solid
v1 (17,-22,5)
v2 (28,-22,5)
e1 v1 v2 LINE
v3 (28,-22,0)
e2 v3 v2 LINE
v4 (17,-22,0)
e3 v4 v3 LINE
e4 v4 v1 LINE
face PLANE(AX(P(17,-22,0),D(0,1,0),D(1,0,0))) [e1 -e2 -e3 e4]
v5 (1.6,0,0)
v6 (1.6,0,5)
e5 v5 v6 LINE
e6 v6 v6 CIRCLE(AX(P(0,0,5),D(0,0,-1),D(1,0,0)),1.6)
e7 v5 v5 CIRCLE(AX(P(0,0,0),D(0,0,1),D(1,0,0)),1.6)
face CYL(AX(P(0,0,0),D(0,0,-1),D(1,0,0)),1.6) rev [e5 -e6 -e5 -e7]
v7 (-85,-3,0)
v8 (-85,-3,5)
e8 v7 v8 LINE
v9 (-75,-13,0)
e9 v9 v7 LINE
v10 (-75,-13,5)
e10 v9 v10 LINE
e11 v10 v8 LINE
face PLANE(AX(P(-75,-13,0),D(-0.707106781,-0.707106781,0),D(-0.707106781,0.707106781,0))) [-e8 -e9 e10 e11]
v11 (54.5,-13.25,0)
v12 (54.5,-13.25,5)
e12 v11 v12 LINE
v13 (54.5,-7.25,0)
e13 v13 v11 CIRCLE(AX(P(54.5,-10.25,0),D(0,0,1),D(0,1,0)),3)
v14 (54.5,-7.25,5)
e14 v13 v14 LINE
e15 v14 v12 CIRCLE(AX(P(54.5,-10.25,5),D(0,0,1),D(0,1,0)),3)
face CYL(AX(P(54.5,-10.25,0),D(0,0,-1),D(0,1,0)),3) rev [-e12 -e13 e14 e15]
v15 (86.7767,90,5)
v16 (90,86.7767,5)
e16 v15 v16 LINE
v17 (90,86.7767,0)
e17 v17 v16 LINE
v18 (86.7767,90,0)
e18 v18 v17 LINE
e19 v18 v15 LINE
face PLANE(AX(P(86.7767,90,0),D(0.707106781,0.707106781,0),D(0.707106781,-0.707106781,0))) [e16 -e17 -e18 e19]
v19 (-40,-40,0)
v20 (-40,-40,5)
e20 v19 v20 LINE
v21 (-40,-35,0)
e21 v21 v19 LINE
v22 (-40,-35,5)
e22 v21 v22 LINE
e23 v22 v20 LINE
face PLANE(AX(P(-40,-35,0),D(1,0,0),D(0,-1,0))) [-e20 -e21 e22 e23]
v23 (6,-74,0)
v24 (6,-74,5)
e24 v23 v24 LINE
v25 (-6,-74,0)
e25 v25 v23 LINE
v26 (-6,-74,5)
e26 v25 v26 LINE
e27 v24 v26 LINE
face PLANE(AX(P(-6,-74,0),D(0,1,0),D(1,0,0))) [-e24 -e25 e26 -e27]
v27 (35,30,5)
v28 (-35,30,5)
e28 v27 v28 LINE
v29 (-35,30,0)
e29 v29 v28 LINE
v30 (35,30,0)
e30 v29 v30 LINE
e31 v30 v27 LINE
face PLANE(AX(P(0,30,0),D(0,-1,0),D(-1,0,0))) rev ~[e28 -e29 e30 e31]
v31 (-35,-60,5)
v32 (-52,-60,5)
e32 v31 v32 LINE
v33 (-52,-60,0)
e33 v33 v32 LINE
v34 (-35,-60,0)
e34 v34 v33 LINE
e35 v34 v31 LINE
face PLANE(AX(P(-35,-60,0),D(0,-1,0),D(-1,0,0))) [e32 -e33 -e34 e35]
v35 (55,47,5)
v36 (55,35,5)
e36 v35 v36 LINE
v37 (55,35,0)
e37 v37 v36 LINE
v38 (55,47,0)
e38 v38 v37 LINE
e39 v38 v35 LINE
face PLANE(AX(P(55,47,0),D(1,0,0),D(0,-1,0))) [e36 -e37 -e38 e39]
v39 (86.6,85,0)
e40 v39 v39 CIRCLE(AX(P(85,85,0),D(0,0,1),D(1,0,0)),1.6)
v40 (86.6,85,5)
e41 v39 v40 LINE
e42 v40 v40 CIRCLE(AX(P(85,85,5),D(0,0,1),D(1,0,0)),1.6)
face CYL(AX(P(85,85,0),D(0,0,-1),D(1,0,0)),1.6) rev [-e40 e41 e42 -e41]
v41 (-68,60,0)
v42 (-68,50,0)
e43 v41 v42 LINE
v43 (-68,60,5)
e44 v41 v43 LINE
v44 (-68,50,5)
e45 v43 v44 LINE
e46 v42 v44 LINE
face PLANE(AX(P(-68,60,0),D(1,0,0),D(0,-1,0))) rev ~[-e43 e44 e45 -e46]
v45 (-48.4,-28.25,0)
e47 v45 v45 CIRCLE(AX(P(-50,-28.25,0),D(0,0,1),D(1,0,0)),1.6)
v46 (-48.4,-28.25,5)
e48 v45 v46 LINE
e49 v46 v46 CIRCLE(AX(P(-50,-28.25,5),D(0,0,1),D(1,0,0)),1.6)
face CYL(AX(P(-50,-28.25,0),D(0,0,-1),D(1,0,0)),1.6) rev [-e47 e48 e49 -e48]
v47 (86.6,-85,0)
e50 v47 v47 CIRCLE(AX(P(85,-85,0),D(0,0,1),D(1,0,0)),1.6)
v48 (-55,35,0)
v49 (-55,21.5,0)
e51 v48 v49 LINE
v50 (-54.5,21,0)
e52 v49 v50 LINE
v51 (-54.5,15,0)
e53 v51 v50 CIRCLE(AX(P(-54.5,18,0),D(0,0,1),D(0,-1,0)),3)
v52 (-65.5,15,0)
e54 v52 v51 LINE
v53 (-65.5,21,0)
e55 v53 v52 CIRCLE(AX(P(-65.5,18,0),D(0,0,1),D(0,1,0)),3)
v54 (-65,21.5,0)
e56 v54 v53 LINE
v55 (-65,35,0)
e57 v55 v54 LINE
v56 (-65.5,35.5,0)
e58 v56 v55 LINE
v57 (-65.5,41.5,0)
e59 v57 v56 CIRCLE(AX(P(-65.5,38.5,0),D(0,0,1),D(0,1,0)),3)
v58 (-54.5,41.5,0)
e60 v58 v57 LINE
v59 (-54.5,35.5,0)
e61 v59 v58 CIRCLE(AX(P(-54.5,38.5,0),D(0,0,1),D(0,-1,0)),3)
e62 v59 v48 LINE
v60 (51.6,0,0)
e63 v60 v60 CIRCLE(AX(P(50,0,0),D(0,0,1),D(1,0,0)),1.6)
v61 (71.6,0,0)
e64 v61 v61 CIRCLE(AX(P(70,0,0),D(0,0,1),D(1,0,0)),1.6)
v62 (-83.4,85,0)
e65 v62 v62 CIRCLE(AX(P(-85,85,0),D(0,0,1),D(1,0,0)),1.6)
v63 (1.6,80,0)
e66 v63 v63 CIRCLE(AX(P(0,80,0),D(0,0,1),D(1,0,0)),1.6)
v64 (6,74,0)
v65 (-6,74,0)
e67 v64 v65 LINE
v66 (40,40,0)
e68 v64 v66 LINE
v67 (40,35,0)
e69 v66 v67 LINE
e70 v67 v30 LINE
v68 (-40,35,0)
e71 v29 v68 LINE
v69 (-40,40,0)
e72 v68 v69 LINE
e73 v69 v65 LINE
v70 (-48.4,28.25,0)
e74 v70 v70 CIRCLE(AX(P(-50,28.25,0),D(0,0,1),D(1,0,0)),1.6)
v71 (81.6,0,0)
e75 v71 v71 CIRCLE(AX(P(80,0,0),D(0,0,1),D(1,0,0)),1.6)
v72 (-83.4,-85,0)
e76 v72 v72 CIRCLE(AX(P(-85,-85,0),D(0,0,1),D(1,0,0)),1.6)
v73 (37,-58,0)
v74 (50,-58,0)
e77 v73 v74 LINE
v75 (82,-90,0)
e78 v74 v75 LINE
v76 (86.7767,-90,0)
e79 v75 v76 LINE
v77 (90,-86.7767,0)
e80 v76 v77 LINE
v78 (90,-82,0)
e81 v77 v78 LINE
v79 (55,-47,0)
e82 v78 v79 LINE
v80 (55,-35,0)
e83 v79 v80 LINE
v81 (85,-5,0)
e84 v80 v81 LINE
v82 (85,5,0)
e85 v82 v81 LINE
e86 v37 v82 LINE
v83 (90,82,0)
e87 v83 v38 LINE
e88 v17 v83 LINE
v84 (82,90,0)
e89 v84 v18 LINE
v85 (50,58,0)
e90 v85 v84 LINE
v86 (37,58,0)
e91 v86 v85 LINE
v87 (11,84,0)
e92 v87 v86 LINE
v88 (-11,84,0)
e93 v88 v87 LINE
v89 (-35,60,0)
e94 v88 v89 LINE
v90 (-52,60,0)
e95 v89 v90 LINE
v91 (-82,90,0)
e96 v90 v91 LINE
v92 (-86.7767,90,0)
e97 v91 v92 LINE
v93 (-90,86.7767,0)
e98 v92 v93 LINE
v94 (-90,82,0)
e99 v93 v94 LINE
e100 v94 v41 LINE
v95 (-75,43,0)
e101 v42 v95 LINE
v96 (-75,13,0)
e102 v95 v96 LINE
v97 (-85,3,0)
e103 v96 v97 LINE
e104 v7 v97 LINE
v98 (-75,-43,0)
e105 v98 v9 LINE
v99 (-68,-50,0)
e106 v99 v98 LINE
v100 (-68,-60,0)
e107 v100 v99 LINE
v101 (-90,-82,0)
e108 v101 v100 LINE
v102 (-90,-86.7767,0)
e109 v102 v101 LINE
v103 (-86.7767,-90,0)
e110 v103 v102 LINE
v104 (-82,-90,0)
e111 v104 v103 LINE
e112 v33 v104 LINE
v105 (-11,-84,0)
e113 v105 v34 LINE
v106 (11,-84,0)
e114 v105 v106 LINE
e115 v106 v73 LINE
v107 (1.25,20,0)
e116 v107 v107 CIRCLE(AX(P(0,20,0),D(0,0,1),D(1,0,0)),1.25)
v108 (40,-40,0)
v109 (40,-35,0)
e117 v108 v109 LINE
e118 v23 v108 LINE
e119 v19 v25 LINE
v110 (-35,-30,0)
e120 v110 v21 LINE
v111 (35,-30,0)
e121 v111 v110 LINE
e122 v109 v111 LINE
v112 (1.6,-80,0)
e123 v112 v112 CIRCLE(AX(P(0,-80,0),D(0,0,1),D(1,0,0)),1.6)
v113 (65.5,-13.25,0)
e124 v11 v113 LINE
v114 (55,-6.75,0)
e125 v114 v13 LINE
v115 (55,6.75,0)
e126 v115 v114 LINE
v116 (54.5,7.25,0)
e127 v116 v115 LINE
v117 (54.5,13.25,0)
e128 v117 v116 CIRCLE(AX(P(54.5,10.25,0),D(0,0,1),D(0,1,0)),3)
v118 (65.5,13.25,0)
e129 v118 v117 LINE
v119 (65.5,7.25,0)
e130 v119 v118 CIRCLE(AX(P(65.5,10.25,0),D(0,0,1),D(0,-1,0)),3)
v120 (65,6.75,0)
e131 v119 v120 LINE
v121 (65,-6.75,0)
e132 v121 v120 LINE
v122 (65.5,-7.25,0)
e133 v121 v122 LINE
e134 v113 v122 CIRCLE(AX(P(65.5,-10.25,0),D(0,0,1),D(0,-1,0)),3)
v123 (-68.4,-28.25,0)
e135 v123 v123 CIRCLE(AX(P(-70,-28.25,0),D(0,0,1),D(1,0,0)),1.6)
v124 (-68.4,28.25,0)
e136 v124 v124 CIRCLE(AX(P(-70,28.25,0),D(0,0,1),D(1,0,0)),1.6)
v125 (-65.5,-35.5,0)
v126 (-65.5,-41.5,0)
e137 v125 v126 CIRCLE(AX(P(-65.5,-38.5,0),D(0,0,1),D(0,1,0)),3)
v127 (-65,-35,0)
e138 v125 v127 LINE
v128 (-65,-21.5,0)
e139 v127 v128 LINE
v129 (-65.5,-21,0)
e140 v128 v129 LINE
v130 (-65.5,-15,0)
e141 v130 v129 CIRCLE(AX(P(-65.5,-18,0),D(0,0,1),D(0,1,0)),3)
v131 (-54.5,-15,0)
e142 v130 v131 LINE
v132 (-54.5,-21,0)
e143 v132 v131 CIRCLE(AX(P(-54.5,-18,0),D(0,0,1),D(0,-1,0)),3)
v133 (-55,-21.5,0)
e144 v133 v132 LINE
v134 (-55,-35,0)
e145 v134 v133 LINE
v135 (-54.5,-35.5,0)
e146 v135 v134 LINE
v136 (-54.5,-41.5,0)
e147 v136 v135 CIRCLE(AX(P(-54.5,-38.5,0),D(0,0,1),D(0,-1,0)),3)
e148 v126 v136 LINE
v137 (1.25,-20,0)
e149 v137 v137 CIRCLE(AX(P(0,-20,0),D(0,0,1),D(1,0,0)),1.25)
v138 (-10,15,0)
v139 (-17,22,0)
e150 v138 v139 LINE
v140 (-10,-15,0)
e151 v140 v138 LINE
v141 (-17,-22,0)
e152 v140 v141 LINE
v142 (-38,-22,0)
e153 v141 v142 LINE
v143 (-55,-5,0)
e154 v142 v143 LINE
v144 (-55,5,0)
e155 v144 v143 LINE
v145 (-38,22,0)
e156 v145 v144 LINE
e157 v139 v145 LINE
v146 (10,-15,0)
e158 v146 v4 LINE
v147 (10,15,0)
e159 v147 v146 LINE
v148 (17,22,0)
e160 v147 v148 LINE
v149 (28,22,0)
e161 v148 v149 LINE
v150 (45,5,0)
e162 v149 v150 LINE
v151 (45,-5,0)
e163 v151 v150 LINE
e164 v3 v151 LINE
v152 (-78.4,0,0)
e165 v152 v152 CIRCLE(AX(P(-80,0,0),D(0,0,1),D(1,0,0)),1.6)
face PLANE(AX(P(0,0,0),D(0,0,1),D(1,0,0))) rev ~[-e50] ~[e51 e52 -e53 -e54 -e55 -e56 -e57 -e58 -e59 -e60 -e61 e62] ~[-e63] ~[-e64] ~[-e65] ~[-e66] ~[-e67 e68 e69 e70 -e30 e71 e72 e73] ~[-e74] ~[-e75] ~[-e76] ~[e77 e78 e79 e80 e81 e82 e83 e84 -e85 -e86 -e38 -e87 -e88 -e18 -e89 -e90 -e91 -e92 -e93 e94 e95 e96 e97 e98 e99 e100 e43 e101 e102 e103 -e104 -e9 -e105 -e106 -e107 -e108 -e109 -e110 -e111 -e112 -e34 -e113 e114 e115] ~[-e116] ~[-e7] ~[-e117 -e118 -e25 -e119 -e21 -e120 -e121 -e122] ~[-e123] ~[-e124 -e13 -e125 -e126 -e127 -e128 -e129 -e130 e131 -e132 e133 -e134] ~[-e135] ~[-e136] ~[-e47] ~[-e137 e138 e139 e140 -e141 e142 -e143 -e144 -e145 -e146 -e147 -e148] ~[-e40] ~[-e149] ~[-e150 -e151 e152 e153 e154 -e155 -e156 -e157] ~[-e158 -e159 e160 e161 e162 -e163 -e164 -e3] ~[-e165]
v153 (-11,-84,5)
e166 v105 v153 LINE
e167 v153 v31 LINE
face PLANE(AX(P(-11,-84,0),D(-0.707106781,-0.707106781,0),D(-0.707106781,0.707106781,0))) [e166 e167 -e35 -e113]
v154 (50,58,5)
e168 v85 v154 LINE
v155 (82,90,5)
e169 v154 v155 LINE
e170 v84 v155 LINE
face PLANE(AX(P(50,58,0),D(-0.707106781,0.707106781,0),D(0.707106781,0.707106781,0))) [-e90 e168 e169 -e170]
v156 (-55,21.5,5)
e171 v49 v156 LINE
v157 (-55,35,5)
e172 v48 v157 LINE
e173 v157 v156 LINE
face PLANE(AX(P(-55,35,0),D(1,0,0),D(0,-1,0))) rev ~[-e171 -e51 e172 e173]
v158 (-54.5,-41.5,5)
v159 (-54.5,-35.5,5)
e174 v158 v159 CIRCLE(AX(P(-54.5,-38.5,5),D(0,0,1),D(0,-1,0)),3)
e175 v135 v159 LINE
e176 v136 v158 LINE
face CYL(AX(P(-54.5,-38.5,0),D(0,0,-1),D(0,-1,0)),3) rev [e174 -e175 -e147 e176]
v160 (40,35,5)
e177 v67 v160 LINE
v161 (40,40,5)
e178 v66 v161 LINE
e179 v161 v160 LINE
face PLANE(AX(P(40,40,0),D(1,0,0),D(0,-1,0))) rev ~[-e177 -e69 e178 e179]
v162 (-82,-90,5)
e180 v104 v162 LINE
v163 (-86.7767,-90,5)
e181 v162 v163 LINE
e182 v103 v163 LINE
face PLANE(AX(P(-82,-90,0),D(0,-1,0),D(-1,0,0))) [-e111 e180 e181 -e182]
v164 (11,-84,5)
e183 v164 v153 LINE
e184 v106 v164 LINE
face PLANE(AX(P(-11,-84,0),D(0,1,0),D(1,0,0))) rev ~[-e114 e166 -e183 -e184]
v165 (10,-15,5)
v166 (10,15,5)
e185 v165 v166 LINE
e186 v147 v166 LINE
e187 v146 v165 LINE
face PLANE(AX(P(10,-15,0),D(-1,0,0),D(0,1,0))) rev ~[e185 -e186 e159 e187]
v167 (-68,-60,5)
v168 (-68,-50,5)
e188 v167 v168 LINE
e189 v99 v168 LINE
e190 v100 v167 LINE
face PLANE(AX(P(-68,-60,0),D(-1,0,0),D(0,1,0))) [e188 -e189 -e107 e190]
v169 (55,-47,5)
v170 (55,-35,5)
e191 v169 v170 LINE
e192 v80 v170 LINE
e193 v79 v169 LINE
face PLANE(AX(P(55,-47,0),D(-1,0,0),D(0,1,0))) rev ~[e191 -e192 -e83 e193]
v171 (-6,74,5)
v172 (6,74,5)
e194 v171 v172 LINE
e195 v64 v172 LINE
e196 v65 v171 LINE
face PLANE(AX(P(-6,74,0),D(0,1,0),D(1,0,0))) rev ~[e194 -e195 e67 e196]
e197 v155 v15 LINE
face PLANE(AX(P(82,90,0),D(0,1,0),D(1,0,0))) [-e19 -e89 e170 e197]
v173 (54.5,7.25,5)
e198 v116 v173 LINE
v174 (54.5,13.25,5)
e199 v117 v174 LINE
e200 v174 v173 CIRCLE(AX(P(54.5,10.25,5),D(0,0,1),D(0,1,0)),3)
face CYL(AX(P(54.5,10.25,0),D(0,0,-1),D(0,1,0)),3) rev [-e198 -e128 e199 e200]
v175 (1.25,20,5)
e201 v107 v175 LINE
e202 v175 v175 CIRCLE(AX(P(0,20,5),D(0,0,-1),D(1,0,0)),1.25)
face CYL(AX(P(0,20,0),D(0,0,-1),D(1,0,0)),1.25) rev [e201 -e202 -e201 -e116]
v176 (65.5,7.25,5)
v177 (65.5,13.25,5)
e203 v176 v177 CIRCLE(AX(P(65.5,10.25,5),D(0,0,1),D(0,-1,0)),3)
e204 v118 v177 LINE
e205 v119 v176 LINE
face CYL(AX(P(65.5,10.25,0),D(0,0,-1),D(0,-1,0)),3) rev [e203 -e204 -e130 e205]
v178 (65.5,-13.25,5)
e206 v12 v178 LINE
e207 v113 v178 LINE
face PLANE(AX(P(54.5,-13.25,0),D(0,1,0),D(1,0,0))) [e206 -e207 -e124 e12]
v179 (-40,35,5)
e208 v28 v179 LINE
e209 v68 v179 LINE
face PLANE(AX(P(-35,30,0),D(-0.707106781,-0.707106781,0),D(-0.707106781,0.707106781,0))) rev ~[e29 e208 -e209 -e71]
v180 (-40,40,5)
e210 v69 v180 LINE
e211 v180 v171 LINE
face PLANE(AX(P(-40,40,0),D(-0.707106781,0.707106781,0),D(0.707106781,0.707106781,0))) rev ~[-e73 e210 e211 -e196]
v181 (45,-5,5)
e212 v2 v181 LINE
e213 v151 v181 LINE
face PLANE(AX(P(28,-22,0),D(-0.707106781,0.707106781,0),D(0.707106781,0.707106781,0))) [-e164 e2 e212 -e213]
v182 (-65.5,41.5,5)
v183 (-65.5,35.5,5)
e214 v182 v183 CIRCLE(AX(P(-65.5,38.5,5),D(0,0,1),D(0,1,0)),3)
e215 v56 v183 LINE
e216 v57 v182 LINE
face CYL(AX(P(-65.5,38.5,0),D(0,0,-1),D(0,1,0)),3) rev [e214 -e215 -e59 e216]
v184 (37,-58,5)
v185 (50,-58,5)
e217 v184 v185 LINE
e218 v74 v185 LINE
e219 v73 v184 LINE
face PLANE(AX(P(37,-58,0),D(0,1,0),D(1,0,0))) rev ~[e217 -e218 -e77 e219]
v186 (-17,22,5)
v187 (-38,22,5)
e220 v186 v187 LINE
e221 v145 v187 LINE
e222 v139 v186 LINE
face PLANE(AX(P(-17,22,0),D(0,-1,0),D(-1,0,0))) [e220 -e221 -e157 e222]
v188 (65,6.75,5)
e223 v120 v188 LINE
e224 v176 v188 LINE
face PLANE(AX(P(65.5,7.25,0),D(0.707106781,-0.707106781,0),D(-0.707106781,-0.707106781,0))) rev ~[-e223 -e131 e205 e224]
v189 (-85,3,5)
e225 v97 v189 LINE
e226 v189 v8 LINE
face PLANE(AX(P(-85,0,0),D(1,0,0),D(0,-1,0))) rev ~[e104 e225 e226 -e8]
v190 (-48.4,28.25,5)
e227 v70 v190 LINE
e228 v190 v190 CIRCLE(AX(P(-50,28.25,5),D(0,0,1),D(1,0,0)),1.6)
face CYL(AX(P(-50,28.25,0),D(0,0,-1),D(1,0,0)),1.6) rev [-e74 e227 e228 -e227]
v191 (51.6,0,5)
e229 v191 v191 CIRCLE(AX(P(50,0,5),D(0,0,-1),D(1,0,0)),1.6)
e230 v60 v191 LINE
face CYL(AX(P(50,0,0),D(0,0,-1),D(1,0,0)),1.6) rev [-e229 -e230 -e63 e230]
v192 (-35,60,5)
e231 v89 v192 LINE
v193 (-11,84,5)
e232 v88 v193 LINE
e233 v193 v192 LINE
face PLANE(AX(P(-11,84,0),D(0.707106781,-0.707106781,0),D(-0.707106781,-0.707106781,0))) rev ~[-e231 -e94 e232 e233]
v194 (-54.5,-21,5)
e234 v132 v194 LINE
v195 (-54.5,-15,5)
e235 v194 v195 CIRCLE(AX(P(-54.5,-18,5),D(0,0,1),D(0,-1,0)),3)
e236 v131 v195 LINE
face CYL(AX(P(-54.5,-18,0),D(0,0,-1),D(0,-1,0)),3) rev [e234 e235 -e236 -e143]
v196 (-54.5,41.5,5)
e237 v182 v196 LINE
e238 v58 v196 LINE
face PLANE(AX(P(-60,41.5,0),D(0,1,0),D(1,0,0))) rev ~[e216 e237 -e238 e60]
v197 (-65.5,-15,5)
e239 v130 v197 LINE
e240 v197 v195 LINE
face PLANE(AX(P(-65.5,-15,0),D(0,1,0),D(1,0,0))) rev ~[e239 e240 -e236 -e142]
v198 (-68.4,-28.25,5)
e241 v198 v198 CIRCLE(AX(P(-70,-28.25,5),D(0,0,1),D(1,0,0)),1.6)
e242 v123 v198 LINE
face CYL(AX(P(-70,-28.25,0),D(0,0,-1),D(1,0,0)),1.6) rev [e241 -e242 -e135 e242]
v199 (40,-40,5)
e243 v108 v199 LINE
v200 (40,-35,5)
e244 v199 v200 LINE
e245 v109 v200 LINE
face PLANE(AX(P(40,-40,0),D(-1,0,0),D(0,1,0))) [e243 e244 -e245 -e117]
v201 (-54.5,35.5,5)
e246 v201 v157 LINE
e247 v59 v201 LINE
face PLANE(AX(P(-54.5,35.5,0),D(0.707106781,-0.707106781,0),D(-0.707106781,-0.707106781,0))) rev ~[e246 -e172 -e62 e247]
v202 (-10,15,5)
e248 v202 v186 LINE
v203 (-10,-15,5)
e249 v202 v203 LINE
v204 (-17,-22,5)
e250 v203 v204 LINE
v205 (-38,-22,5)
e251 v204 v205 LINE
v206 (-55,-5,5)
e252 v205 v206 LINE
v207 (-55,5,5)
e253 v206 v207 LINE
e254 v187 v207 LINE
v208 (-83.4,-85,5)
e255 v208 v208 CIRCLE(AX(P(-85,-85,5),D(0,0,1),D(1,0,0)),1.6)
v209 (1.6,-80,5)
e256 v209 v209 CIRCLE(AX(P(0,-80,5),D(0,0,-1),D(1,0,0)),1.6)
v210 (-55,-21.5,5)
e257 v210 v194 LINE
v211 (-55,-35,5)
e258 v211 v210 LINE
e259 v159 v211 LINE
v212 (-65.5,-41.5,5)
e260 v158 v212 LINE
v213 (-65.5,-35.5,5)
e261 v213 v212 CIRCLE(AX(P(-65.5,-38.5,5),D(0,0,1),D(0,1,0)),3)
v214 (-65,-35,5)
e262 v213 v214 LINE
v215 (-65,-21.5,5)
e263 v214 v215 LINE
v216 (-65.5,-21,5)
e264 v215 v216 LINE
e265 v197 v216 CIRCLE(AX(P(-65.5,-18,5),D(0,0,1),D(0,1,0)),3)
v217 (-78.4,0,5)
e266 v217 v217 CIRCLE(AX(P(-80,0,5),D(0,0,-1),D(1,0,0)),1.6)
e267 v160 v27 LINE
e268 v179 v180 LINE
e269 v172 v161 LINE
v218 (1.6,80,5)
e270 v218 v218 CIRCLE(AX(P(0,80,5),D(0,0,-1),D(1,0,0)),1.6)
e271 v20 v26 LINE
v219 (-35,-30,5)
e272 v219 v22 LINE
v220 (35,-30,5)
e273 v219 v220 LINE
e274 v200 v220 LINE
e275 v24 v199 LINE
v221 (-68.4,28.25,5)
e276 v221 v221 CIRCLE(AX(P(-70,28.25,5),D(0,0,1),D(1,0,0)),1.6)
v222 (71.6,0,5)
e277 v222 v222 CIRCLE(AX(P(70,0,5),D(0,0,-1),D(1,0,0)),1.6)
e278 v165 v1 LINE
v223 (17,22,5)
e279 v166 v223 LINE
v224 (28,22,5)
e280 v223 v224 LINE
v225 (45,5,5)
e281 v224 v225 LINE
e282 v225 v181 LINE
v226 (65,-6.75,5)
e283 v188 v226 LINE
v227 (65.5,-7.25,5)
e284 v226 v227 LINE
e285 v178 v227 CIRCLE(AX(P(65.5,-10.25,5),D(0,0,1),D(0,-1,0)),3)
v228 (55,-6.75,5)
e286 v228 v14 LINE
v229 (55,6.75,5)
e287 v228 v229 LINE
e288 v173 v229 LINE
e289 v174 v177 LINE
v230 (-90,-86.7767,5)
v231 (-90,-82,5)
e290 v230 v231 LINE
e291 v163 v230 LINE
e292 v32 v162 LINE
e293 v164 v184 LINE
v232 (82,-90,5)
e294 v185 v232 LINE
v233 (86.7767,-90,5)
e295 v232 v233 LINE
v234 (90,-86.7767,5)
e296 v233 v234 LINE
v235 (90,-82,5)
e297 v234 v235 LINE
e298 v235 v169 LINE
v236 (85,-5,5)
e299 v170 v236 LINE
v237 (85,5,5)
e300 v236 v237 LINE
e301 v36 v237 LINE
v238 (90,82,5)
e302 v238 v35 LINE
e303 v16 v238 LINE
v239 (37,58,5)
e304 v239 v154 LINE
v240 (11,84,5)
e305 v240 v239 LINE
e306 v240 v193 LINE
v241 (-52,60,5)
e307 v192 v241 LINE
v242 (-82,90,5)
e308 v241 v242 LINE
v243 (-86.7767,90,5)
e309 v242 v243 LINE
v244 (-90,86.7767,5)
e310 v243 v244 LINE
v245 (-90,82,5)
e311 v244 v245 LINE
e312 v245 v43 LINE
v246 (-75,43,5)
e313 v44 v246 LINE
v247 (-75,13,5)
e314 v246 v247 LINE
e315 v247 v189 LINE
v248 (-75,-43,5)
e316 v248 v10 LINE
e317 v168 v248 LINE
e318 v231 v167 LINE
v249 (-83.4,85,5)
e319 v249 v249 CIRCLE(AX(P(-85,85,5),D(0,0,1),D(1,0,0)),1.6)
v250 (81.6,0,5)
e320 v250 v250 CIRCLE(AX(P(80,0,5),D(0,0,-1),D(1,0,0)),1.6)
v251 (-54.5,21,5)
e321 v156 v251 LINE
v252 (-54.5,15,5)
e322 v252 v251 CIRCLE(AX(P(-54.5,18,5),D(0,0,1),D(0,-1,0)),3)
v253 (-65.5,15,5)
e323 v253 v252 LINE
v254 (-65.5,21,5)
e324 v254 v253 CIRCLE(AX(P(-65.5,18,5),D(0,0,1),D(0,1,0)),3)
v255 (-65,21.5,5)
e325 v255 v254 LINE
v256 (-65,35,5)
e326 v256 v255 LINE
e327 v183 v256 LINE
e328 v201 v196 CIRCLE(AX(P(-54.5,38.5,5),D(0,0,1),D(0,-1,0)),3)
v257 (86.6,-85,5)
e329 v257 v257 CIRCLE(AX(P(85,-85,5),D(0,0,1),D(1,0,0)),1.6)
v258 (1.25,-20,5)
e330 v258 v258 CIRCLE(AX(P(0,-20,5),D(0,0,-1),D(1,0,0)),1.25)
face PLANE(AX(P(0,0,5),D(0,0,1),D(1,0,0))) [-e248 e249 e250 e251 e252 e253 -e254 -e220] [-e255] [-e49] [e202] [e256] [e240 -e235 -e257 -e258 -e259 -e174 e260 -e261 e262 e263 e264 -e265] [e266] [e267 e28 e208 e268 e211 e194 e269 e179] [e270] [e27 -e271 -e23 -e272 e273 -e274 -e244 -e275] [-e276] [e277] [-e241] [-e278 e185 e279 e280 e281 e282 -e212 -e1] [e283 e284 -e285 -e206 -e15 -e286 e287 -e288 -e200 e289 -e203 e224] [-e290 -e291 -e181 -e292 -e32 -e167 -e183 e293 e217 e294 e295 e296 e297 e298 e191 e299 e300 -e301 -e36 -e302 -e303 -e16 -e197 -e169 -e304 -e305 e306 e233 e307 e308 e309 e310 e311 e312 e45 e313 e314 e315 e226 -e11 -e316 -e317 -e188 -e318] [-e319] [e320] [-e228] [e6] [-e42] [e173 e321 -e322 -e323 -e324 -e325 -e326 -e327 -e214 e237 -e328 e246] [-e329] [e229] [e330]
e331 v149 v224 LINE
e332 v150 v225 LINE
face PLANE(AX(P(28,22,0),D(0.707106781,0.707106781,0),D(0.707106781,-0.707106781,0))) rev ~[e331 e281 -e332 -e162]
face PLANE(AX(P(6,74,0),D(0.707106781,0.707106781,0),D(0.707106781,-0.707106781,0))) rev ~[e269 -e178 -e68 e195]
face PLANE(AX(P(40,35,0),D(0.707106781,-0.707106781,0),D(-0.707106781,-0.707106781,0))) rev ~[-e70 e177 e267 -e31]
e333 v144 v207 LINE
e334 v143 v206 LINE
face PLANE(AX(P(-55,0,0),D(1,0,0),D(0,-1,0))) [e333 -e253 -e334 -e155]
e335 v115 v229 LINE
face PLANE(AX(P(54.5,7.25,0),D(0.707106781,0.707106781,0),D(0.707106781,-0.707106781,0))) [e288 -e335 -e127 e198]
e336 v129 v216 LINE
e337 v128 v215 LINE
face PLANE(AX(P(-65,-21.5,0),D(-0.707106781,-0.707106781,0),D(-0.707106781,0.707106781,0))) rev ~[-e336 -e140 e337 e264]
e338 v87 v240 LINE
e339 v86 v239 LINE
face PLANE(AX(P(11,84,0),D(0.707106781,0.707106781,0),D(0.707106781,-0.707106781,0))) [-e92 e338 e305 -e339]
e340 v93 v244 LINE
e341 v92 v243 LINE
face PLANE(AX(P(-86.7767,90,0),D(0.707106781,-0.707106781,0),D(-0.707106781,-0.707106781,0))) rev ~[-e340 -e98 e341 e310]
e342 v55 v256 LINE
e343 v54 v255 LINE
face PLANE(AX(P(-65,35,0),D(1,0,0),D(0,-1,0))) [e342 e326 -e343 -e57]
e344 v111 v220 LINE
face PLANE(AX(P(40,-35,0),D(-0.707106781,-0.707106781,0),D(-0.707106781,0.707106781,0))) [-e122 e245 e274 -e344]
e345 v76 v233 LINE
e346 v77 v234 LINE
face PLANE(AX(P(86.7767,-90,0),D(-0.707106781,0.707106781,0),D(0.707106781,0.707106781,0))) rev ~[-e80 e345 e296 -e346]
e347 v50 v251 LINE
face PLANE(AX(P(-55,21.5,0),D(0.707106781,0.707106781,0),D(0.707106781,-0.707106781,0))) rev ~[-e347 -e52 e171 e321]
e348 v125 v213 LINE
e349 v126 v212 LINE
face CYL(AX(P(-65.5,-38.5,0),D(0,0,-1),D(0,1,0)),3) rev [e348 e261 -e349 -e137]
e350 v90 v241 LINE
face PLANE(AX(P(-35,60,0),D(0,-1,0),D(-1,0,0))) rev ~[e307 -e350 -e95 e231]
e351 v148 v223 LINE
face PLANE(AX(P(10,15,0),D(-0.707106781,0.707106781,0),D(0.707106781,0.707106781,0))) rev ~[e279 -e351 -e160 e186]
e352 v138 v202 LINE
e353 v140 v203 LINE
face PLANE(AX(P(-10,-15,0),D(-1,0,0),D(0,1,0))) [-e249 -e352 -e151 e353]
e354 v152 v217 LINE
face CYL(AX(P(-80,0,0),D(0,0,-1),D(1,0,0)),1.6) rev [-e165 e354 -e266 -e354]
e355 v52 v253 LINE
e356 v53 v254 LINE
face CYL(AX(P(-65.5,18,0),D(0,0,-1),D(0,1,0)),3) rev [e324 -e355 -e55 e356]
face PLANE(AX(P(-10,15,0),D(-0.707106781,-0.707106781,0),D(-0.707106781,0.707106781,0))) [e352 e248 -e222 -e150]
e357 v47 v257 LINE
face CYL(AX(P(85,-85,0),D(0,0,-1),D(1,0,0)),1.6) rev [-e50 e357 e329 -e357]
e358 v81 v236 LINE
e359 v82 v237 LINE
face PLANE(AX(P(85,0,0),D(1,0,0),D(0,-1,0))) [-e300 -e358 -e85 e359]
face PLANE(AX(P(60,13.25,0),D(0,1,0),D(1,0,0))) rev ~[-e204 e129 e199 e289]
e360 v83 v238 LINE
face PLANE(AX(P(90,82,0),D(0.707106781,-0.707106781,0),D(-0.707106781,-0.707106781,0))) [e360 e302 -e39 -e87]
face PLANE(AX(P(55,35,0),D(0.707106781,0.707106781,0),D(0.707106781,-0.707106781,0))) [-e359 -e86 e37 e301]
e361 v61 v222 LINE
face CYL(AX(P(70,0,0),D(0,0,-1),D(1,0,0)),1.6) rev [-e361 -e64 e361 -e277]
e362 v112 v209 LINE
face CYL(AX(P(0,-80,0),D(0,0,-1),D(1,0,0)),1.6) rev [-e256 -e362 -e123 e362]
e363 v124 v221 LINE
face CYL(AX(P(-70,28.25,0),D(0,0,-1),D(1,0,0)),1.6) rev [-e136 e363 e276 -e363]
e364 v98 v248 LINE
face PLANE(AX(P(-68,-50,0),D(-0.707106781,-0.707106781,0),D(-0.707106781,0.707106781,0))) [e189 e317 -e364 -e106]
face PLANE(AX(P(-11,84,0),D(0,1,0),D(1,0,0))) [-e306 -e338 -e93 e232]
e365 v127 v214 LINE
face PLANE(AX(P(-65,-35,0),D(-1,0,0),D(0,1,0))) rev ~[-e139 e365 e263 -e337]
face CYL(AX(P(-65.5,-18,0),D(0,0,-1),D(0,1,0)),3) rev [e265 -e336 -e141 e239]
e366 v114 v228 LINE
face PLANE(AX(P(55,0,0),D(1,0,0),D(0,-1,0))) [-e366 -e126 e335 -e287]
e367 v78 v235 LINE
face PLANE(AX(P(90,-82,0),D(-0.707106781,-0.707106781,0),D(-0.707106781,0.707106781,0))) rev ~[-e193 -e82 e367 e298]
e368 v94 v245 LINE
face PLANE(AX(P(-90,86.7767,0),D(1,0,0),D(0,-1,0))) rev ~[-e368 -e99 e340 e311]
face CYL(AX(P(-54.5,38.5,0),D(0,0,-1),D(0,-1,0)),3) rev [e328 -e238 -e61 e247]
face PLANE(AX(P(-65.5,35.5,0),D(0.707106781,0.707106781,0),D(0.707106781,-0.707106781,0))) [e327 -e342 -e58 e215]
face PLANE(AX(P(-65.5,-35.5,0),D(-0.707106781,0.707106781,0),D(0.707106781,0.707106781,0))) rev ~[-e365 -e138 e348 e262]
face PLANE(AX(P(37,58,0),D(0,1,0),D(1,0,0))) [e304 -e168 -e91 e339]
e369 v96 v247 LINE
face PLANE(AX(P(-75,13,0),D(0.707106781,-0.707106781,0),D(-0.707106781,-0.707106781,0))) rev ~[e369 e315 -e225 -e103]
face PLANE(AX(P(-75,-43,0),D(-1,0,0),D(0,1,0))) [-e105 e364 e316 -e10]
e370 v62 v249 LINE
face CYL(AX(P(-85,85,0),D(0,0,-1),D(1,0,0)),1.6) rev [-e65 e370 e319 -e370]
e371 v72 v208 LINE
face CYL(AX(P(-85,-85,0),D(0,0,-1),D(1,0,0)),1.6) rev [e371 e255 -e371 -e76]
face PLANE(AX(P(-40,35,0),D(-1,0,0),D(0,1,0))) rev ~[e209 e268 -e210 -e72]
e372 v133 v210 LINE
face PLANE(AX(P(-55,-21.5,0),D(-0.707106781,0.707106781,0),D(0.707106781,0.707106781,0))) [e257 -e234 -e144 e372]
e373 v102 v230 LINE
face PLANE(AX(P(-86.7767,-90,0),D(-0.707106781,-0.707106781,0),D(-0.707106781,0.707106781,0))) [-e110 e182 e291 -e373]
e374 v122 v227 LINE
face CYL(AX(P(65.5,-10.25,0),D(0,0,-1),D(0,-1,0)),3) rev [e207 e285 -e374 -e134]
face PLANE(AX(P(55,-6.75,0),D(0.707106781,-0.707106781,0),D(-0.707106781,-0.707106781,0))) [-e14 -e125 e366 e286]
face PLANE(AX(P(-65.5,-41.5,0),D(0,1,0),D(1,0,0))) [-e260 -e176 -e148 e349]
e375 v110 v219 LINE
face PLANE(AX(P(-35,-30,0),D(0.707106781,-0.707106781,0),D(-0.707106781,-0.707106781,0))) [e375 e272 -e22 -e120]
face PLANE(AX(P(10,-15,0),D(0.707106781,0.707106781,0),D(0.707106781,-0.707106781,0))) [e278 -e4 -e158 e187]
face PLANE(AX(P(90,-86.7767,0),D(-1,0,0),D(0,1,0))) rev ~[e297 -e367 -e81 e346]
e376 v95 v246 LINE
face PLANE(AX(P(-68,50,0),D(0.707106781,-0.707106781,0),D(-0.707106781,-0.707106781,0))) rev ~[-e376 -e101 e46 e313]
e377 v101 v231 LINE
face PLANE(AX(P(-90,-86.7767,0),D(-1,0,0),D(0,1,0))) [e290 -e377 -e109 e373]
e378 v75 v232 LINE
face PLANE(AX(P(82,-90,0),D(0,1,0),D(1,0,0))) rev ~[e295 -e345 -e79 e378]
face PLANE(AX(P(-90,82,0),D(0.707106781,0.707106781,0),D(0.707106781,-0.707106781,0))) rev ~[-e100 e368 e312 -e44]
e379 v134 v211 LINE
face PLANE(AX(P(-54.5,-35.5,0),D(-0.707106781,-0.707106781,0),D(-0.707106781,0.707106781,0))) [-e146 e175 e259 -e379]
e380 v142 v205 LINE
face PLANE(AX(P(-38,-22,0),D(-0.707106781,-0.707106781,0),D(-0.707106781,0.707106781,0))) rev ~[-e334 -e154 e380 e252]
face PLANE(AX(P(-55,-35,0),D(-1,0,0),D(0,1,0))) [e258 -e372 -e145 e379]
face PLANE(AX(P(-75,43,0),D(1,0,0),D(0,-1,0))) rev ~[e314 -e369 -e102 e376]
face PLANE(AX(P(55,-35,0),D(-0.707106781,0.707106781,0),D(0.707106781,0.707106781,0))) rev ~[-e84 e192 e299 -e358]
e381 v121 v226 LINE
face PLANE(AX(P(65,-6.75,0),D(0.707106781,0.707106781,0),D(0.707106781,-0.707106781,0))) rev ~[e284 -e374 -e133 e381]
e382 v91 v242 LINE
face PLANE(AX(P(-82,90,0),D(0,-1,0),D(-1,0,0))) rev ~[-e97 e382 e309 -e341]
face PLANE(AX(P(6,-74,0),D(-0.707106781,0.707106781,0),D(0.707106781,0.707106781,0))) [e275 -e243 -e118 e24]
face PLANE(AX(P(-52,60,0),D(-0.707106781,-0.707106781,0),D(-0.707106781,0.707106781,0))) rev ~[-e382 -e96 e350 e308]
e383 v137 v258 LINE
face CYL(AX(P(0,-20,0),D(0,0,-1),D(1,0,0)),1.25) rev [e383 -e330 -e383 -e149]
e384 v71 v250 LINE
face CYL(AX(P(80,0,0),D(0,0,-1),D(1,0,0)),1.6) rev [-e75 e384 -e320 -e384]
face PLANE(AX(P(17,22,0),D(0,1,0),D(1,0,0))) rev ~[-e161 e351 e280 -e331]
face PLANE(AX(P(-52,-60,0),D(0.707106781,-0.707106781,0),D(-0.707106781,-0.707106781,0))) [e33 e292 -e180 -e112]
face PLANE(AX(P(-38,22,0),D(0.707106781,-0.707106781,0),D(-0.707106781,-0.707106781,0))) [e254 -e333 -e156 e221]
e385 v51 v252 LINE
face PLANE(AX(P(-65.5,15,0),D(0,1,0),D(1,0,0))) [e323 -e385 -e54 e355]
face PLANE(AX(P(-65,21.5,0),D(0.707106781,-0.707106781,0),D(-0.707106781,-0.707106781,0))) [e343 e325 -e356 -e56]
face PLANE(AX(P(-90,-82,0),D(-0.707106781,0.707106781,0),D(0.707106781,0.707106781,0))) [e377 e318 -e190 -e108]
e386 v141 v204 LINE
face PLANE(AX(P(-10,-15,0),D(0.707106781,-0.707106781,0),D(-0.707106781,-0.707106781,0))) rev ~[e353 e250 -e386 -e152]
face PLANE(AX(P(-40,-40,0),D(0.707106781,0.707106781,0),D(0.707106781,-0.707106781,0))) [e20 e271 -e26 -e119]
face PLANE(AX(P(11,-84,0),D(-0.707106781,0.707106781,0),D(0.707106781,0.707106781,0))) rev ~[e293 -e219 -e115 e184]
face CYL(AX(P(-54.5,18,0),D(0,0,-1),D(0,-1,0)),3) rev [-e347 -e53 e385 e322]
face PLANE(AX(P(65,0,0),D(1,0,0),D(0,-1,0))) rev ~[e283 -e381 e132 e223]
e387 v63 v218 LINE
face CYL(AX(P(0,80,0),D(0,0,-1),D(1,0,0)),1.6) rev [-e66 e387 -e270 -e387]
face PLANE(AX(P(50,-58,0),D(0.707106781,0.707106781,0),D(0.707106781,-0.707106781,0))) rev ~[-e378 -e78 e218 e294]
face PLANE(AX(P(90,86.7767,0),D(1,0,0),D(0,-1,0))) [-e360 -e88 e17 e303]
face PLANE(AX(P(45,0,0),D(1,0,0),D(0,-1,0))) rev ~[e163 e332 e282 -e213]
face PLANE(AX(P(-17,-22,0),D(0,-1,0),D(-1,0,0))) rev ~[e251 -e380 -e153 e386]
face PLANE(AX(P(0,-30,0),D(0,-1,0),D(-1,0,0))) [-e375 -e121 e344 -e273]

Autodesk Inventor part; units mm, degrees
ref_plane "YZ Plane" through (0, 0, 0) normal (1, 0, 0) x (0, 1, 0)
sketch "Náčrt1" plane through (0, 0, 0) normal (0, 0, 1) x (1, 0, 0)
  line L0 (0, -126) -> (0, 126) projected
  line L1 (-126, 0) -> (126, 0) projected
  line L2 (-11, 84) -> (11, 84)
  line L3 (11, 84) -> (37, 58)
  line L4 (37, 58) -> (50, 58)
  line L5 (50, 58) -> (82, 90)
  line L6 (90, 82) -> (55, 47)
  line L7 (55, 47) -> (55, 35)
  line L8 (55, 35) -> (85, 5)
  line L9 (85, 5) -> (85, -5)
  circle A0 centre (85, 85) radius 1.6
  line L10 (86.7767, 90) -> (90, 86.7767)
  line L11 (82, 90) -> (86.7767, 90)
  line L12 (90, 86.7767) -> (90, 82)
  line L13 (-11, 84) -> (-35, 60)
  line L14 (-35, 60) -> (-52, 60)
  line L15 (-52, 60) -> (-82, 90)
  line L16 (-82, 90) -> (-86.7767, 90)
  line L17 (-86.7767, 90) -> (-90, 86.7767)
  line L18 (-90, 86.7767) -> (-90, 82)
  line L19 (-90, 82) -> (-68, 60)
  line L20 (-68, 60) -> (-68, 50)
  circle A1 centre (-85, 85) radius 1.6
  line L21 (-68, 50) -> (-75, 43)
  line L22 (-75, 43) -> (-75, 13)
  line L23 (-75, 13) -> (-85, 3)
  line L24 (-85, 3) -> (-85, -3)
  line L25 (-6, 74) -> (6, 74)
  line L26 (6, 74) -> (40, 40)
  line L27 (40, 40) -> (40, 35)
  line L28 (40, 35) -> (35, 30)
  line L29 (35, 30) -> (-35, 30)
  line L30 (-35, 30) -> (-40, 35)
  line L31 (-40, 35) -> (-40, 40)
  line L32 (-40, 40) -> (-6, 74)
  circle A2 centre (0, 80) radius 1.6
  line L33 (-10, -15) -> (-10, 15)
  line L34 (-10, 15) -> (-17, 22)
  line L35 (-17, 22) -> (-38, 22)
  line L36 (-38, 22) -> (-55, 5)
  line L37 (-55, 5) -> (-55, -5)
  line L38 (10, -15) -> (10, 15)
  line L39 (10, 15) -> (17, 22)
  line L40 (17, 22) -> (28, 22)
  line L41 (28, 22) -> (45, 5)
  line L42 (45, 5) -> (45, -5)
  circle A3 centre (0, 20) radius 1.25
  circle A4 centre (0, 0) radius 1.6
  line L43 (-65, 35) -> (-65, 21.5)
  line L44 (-55, 35) -> (-55, 21.5)
  line L45 (-65.5, 41.5) -> (-54.5, 41.5)
  arc A5 (-65.5, 41.5) -> (-65.5, 35.5) centre (-65.5, 38.5) ccw
  arc A6 (-54.5, 35.5) -> (-54.5, 41.5) centre (-54.5, 38.5) ccw
  line L46 (-65.5, 35.5) -> (-65, 35)
  line L47 (-54.5, 35.5) -> (-55, 35)
  line L48 (-65, 21.5) -> (-65.5, 21)
  line L49 (-55, 21.5) -> (-54.5, 21)
  line L50 (-65.5, 15) -> (-54.5, 15)
  arc A7 (-65.5, 21) -> (-65.5, 15) centre (-65.5, 18) ccw
  arc A8 (-54.5, 15) -> (-54.5, 21) centre (-54.5, 18) ccw
  circle A9 centre (-70, 28.25) radius 1.6
  circle A10 centre (-50, 28.25) radius 1.6
  line L51 (-60, 41.5) -> (-60, 37.7564)
  line L52 (55, 6.75) -> (55, -6.75)
  line L53 (65, 6.75) -> (65, -6.75)
  line L54 (54.5, 13.25) -> (65.5, 13.25)
  arc A11 (54.5, 13.25) -> (54.5, 7.25) centre (54.5, 10.25) ccw
  arc A12 (65.5, 7.25) -> (65.5, 13.25) centre (65.5, 10.25) ccw
  line L55 (54.5, 7.25) -> (55, 6.75)
  line L56 (65.5, 7.25) -> (65, 6.75)
  line L57 (55, -6.75) -> (54.5, -7.25)
  line L58 (65, -6.75) -> (65.5, -7.25)
  line L59 (54.5, -13.25) -> (65.5, -13.25)
  arc A13 (54.5, -7.25) -> (54.5, -13.25) centre (54.5, -10.25) ccw
  arc A14 (65.5, -13.25) -> (65.5, -7.25) centre (65.5, -10.25) ccw
  circle A15 centre (50, 0) radius 1.6
  circle A16 centre (70, 0) radius 1.6
  line L60 (60, 13.25) -> (60, 9.5064)
  circle A17 centre (-80, 0) radius 1.6
  circle A18 centre (80, 0) radius 1.6
  line L61 (-11, -84) -> (11, -84)
  line L62 (11, -84) -> (37, -58)
  line L63 (37, -58) -> (50, -58)
  line L64 (50, -58) -> (82, -90)
  line L65 (90, -82) -> (55, -47)
  line L66 (55, -47) -> (55, -35)
  line L67 (55, -35) -> (85, -5)
  circle A19 centre (85, -85) radius 1.6
  line L68 (86.7767, -90) -> (90, -86.7767)
  line L69 (82, -90) -> (86.7767, -90)
  line L70 (90, -86.7767) -> (90, -82)
  line L71 (-11, -84) -> (-35, -60)
  line L72 (-35, -60) -> (-52, -60)
  line L73 (-52, -60) -> (-82, -90)
  line L74 (-82, -90) -> (-86.7767, -90)
  line L75 (-86.7767, -90) -> (-90, -86.7767)
  line L76 (-90, -86.7767) -> (-90, -82)
  line L77 (-90, -82) -> (-68, -60)
  line L78 (-68, -60) -> (-68, -50)
  circle A20 centre (-85, -85) radius 1.6
  line L79 (-68, -50) -> (-75, -43)
  line L80 (-75, -43) -> (-75, -13)
  line L81 (-75, -13) -> (-85, -3)
  line L82 (-6, -74) -> (6, -74)
  line L83 (6, -74) -> (40, -40)
  line L84 (40, -40) -> (40, -35)
  line L85 (40, -35) -> (35, -30)
  line L86 (35, -30) -> (-35, -30)
  line L87 (-35, -30) -> (-40, -35)
  line L88 (-40, -35) -> (-40, -40)
  line L89 (-40, -40) -> (-6, -74)
  circle A21 centre (0, -80) radius 1.6
  line L90 (-10, -15) -> (-17, -22)
  line L91 (-17, -22) -> (-38, -22)
  line L92 (-38, -22) -> (-55, -5)
  line L93 (10, -15) -> (17, -22)
  line L94 (17, -22) -> (28, -22)
  line L95 (28, -22) -> (45, -5)
  circle A22 centre (0, -20) radius 1.25
  line L96 (-65, -35) -> (-65, -21.5)
  line L97 (-55, -35) -> (-55, -21.5)
  line L98 (-65.5, -41.5) -> (-54.5, -41.5)
  arc A23 (-65.5, -35.5) -> (-65.5, -41.5) centre (-65.5, -38.5) ccw
  arc A24 (-54.5, -41.5) -> (-54.5, -35.5) centre (-54.5, -38.5) ccw
  line L99 (-65.5, -35.5) -> (-65, -35)
  line L100 (-54.5, -35.5) -> (-55, -35)
  line L101 (-65, -21.5) -> (-65.5, -21)
  line L102 (-55, -21.5) -> (-54.5, -21)
  arc A25 (-65.5, -15) -> (-65.5, -21) centre (-65.5, -18) ccw
  arc A26 (-54.5, -21) -> (-54.5, -15) centre (-54.5, -18) ccw
  circle A27 centre (-70, -28.25) radius 1.6
  circle A28 centre (-50, -28.25) radius 1.6
  line L103 (-60, -41.5) -> (-60, -37.7564)
  line L104 (-65.5, -15) -> (-54.5, -15)
  circle A29 centre (-70, 28.25) radius 1.6
  circle A30 centre (-50, 28.25) radius 1.6
  circle A31 centre (50, 0) radius 1.6
  circle A32 centre (70, 0) radius 1.6
  circle A33 centre (-70, -28.25) radius 1.6
  circle A34 centre (-50, -28.25) radius 1.6
  point P0 (-10, 0)
  point P1 (10, 0)
  point P2 (-55, 28.25)
  point P3 (65, 0)
  point P4 (-55, -28.25)
  dimension "d0" = 84
  dimension "d1" = 85
  dimension "d2" = 85
  dimension "d5" = 45
  dimension "d6" = 3.2
  dimension "d8" = 90
  dimension "d9" = 90
  dimension "d11" = 125
  dimension "d13" = 22
  dimension "d14" = 13
  dimension "d15" = 12
  dimension "d16" = 10
  dimension "d17" = 17
  dimension "d19" = 7
  dimension "d20" = 10
  dimension "d21" = 6
  dimension "d22" = 80
  dimension "d23" = 44
  dimension "d24" = 5
  dimension "d25" = 10
  dimension "d26" = 80
  dimension "d27" = 17
  dimension "d28" = 7
  dimension "d29" = 10
  dimension "d30" = 45
  dimension "d31" = 22
  dimension "d32" = 35
  dimension "d33" = 20
  dimension "d34" = 10
  dimension "d35" = 0.5
  dimension "d36" = 3
  dimension "d37" = 26.5
  dimension "d38" = 20
  dimension "d39" = 55
  dimension "d40" = 28.25
  dimension "d41" = 10
  dimension "d42" = 0.5
  dimension "d43" = 3
  dimension "d44" = 26.5
  dimension "d45" = 20
  dimension "d46" = 55
  dimension "d47" = 80
  dimension "d53" = 3.2
  dimension "d76" = 2.5
  dimension "d77" = 82
  dimension "d78" = 82
extrude "Vysunutí1" add sketch "Náčrt1" along normal blind 5 contours L61 L71 L72 L73 L74 L75 L76 L77 L78 L79 L80 L81 L24 L1 A17 L37 L92 L91 L90 L33 A4 L0 A22 L86 L87 L88 L89 L82 A21 | L0 A21 L82 L83 L84 L85 L86 A22 A4 L1 L38 L93 L94 L95 L42 A15 L52 L57 A13 L59 A14 L58 L53 A16 A18 L9 L67 L66 L65 L70 L68 L69 L64 L63 L62 L61 | L1 L33 L34 L35 L36 L37 A17 L24 L23 L22 L21 L20 L19 L18 L17 L16 L15 L14 L13 L2 L0 A2 L25 L32 L31 L30 L29 A3 A4 | A4 L0 A3 L29 L28 L27 L26 L25 A2 L2 L3 L4 L5 L11 L10 L12 L6 L7 L8 L9 L1 A18 A16 L53 L56 A12 L54 A11 L55 L52 A15 L42 L41 L40 L39 L38
sketch "Náčrt2" plane through (0, 0, 0) normal (0, 1, 0) x (-1, 0, 0)
  circle A0 centre (-60, -5.5902) radius 7.5
  circle A1 centre (60, -5.5902) radius 7.5
  point P0 (0, 0)
  point P1 (55, 0)
  point P2 (65, 0)
  point P3 (-55, 0)
  point P4 (-65, 0)
  dimension "d50" = 15
ref_plane "Pracovní rovina1" through (0, 28.25, 0) normal (0, 1, 0) x (-1, 0, 0)
ref_plane "Pracovní rovina2" through (0, -28.25, 0) normal (0, 1, 0) x (-1, 0, 0)
thread "Závit1" size "M3x0.5" class "6H" standard "ANSI Metric M Profile" full length
thread "Závit2" size "M3x0.5" class "6H" standard "ANSI Metric M Profile" full length
thread "Závit3" size "M3x0.5" class "6H" standard "ANSI Metric M Profile" full length
thread "Závit4" size "M3x0.5" class "6H" standard "ANSI Metric M Profile" full length
thread "Závit5" size "M3x0.5" class "6H" standard "ANSI Metric M Profile" full length
thread "Závit6" size "M3x0.5" class "6H" standard "ANSI Metric M Profile" full length
thread "Závit7" size "M3x0.5" class "6H" standard "ANSI Metric M Profile" full length
thread "Závit8" size "M3x0.5" class "6H" standard "ANSI Metric M Profile" full length
thread "Závit9" size "M3x0.5" class "6H" standard "ANSI Metric M Profile" full length
thread "Závit10" size "M3x0.5" class "6H" standard "ANSI Metric M Profile" full length
thread "Závit11" size "M3x0.5" class "6H" standard "ANSI Metric M Profile" full length
equation "\"d2\" = d1"
equation "\"d9\" = d8"
equation "\"d46\" = d39"
properties part number "_3DPrint"
